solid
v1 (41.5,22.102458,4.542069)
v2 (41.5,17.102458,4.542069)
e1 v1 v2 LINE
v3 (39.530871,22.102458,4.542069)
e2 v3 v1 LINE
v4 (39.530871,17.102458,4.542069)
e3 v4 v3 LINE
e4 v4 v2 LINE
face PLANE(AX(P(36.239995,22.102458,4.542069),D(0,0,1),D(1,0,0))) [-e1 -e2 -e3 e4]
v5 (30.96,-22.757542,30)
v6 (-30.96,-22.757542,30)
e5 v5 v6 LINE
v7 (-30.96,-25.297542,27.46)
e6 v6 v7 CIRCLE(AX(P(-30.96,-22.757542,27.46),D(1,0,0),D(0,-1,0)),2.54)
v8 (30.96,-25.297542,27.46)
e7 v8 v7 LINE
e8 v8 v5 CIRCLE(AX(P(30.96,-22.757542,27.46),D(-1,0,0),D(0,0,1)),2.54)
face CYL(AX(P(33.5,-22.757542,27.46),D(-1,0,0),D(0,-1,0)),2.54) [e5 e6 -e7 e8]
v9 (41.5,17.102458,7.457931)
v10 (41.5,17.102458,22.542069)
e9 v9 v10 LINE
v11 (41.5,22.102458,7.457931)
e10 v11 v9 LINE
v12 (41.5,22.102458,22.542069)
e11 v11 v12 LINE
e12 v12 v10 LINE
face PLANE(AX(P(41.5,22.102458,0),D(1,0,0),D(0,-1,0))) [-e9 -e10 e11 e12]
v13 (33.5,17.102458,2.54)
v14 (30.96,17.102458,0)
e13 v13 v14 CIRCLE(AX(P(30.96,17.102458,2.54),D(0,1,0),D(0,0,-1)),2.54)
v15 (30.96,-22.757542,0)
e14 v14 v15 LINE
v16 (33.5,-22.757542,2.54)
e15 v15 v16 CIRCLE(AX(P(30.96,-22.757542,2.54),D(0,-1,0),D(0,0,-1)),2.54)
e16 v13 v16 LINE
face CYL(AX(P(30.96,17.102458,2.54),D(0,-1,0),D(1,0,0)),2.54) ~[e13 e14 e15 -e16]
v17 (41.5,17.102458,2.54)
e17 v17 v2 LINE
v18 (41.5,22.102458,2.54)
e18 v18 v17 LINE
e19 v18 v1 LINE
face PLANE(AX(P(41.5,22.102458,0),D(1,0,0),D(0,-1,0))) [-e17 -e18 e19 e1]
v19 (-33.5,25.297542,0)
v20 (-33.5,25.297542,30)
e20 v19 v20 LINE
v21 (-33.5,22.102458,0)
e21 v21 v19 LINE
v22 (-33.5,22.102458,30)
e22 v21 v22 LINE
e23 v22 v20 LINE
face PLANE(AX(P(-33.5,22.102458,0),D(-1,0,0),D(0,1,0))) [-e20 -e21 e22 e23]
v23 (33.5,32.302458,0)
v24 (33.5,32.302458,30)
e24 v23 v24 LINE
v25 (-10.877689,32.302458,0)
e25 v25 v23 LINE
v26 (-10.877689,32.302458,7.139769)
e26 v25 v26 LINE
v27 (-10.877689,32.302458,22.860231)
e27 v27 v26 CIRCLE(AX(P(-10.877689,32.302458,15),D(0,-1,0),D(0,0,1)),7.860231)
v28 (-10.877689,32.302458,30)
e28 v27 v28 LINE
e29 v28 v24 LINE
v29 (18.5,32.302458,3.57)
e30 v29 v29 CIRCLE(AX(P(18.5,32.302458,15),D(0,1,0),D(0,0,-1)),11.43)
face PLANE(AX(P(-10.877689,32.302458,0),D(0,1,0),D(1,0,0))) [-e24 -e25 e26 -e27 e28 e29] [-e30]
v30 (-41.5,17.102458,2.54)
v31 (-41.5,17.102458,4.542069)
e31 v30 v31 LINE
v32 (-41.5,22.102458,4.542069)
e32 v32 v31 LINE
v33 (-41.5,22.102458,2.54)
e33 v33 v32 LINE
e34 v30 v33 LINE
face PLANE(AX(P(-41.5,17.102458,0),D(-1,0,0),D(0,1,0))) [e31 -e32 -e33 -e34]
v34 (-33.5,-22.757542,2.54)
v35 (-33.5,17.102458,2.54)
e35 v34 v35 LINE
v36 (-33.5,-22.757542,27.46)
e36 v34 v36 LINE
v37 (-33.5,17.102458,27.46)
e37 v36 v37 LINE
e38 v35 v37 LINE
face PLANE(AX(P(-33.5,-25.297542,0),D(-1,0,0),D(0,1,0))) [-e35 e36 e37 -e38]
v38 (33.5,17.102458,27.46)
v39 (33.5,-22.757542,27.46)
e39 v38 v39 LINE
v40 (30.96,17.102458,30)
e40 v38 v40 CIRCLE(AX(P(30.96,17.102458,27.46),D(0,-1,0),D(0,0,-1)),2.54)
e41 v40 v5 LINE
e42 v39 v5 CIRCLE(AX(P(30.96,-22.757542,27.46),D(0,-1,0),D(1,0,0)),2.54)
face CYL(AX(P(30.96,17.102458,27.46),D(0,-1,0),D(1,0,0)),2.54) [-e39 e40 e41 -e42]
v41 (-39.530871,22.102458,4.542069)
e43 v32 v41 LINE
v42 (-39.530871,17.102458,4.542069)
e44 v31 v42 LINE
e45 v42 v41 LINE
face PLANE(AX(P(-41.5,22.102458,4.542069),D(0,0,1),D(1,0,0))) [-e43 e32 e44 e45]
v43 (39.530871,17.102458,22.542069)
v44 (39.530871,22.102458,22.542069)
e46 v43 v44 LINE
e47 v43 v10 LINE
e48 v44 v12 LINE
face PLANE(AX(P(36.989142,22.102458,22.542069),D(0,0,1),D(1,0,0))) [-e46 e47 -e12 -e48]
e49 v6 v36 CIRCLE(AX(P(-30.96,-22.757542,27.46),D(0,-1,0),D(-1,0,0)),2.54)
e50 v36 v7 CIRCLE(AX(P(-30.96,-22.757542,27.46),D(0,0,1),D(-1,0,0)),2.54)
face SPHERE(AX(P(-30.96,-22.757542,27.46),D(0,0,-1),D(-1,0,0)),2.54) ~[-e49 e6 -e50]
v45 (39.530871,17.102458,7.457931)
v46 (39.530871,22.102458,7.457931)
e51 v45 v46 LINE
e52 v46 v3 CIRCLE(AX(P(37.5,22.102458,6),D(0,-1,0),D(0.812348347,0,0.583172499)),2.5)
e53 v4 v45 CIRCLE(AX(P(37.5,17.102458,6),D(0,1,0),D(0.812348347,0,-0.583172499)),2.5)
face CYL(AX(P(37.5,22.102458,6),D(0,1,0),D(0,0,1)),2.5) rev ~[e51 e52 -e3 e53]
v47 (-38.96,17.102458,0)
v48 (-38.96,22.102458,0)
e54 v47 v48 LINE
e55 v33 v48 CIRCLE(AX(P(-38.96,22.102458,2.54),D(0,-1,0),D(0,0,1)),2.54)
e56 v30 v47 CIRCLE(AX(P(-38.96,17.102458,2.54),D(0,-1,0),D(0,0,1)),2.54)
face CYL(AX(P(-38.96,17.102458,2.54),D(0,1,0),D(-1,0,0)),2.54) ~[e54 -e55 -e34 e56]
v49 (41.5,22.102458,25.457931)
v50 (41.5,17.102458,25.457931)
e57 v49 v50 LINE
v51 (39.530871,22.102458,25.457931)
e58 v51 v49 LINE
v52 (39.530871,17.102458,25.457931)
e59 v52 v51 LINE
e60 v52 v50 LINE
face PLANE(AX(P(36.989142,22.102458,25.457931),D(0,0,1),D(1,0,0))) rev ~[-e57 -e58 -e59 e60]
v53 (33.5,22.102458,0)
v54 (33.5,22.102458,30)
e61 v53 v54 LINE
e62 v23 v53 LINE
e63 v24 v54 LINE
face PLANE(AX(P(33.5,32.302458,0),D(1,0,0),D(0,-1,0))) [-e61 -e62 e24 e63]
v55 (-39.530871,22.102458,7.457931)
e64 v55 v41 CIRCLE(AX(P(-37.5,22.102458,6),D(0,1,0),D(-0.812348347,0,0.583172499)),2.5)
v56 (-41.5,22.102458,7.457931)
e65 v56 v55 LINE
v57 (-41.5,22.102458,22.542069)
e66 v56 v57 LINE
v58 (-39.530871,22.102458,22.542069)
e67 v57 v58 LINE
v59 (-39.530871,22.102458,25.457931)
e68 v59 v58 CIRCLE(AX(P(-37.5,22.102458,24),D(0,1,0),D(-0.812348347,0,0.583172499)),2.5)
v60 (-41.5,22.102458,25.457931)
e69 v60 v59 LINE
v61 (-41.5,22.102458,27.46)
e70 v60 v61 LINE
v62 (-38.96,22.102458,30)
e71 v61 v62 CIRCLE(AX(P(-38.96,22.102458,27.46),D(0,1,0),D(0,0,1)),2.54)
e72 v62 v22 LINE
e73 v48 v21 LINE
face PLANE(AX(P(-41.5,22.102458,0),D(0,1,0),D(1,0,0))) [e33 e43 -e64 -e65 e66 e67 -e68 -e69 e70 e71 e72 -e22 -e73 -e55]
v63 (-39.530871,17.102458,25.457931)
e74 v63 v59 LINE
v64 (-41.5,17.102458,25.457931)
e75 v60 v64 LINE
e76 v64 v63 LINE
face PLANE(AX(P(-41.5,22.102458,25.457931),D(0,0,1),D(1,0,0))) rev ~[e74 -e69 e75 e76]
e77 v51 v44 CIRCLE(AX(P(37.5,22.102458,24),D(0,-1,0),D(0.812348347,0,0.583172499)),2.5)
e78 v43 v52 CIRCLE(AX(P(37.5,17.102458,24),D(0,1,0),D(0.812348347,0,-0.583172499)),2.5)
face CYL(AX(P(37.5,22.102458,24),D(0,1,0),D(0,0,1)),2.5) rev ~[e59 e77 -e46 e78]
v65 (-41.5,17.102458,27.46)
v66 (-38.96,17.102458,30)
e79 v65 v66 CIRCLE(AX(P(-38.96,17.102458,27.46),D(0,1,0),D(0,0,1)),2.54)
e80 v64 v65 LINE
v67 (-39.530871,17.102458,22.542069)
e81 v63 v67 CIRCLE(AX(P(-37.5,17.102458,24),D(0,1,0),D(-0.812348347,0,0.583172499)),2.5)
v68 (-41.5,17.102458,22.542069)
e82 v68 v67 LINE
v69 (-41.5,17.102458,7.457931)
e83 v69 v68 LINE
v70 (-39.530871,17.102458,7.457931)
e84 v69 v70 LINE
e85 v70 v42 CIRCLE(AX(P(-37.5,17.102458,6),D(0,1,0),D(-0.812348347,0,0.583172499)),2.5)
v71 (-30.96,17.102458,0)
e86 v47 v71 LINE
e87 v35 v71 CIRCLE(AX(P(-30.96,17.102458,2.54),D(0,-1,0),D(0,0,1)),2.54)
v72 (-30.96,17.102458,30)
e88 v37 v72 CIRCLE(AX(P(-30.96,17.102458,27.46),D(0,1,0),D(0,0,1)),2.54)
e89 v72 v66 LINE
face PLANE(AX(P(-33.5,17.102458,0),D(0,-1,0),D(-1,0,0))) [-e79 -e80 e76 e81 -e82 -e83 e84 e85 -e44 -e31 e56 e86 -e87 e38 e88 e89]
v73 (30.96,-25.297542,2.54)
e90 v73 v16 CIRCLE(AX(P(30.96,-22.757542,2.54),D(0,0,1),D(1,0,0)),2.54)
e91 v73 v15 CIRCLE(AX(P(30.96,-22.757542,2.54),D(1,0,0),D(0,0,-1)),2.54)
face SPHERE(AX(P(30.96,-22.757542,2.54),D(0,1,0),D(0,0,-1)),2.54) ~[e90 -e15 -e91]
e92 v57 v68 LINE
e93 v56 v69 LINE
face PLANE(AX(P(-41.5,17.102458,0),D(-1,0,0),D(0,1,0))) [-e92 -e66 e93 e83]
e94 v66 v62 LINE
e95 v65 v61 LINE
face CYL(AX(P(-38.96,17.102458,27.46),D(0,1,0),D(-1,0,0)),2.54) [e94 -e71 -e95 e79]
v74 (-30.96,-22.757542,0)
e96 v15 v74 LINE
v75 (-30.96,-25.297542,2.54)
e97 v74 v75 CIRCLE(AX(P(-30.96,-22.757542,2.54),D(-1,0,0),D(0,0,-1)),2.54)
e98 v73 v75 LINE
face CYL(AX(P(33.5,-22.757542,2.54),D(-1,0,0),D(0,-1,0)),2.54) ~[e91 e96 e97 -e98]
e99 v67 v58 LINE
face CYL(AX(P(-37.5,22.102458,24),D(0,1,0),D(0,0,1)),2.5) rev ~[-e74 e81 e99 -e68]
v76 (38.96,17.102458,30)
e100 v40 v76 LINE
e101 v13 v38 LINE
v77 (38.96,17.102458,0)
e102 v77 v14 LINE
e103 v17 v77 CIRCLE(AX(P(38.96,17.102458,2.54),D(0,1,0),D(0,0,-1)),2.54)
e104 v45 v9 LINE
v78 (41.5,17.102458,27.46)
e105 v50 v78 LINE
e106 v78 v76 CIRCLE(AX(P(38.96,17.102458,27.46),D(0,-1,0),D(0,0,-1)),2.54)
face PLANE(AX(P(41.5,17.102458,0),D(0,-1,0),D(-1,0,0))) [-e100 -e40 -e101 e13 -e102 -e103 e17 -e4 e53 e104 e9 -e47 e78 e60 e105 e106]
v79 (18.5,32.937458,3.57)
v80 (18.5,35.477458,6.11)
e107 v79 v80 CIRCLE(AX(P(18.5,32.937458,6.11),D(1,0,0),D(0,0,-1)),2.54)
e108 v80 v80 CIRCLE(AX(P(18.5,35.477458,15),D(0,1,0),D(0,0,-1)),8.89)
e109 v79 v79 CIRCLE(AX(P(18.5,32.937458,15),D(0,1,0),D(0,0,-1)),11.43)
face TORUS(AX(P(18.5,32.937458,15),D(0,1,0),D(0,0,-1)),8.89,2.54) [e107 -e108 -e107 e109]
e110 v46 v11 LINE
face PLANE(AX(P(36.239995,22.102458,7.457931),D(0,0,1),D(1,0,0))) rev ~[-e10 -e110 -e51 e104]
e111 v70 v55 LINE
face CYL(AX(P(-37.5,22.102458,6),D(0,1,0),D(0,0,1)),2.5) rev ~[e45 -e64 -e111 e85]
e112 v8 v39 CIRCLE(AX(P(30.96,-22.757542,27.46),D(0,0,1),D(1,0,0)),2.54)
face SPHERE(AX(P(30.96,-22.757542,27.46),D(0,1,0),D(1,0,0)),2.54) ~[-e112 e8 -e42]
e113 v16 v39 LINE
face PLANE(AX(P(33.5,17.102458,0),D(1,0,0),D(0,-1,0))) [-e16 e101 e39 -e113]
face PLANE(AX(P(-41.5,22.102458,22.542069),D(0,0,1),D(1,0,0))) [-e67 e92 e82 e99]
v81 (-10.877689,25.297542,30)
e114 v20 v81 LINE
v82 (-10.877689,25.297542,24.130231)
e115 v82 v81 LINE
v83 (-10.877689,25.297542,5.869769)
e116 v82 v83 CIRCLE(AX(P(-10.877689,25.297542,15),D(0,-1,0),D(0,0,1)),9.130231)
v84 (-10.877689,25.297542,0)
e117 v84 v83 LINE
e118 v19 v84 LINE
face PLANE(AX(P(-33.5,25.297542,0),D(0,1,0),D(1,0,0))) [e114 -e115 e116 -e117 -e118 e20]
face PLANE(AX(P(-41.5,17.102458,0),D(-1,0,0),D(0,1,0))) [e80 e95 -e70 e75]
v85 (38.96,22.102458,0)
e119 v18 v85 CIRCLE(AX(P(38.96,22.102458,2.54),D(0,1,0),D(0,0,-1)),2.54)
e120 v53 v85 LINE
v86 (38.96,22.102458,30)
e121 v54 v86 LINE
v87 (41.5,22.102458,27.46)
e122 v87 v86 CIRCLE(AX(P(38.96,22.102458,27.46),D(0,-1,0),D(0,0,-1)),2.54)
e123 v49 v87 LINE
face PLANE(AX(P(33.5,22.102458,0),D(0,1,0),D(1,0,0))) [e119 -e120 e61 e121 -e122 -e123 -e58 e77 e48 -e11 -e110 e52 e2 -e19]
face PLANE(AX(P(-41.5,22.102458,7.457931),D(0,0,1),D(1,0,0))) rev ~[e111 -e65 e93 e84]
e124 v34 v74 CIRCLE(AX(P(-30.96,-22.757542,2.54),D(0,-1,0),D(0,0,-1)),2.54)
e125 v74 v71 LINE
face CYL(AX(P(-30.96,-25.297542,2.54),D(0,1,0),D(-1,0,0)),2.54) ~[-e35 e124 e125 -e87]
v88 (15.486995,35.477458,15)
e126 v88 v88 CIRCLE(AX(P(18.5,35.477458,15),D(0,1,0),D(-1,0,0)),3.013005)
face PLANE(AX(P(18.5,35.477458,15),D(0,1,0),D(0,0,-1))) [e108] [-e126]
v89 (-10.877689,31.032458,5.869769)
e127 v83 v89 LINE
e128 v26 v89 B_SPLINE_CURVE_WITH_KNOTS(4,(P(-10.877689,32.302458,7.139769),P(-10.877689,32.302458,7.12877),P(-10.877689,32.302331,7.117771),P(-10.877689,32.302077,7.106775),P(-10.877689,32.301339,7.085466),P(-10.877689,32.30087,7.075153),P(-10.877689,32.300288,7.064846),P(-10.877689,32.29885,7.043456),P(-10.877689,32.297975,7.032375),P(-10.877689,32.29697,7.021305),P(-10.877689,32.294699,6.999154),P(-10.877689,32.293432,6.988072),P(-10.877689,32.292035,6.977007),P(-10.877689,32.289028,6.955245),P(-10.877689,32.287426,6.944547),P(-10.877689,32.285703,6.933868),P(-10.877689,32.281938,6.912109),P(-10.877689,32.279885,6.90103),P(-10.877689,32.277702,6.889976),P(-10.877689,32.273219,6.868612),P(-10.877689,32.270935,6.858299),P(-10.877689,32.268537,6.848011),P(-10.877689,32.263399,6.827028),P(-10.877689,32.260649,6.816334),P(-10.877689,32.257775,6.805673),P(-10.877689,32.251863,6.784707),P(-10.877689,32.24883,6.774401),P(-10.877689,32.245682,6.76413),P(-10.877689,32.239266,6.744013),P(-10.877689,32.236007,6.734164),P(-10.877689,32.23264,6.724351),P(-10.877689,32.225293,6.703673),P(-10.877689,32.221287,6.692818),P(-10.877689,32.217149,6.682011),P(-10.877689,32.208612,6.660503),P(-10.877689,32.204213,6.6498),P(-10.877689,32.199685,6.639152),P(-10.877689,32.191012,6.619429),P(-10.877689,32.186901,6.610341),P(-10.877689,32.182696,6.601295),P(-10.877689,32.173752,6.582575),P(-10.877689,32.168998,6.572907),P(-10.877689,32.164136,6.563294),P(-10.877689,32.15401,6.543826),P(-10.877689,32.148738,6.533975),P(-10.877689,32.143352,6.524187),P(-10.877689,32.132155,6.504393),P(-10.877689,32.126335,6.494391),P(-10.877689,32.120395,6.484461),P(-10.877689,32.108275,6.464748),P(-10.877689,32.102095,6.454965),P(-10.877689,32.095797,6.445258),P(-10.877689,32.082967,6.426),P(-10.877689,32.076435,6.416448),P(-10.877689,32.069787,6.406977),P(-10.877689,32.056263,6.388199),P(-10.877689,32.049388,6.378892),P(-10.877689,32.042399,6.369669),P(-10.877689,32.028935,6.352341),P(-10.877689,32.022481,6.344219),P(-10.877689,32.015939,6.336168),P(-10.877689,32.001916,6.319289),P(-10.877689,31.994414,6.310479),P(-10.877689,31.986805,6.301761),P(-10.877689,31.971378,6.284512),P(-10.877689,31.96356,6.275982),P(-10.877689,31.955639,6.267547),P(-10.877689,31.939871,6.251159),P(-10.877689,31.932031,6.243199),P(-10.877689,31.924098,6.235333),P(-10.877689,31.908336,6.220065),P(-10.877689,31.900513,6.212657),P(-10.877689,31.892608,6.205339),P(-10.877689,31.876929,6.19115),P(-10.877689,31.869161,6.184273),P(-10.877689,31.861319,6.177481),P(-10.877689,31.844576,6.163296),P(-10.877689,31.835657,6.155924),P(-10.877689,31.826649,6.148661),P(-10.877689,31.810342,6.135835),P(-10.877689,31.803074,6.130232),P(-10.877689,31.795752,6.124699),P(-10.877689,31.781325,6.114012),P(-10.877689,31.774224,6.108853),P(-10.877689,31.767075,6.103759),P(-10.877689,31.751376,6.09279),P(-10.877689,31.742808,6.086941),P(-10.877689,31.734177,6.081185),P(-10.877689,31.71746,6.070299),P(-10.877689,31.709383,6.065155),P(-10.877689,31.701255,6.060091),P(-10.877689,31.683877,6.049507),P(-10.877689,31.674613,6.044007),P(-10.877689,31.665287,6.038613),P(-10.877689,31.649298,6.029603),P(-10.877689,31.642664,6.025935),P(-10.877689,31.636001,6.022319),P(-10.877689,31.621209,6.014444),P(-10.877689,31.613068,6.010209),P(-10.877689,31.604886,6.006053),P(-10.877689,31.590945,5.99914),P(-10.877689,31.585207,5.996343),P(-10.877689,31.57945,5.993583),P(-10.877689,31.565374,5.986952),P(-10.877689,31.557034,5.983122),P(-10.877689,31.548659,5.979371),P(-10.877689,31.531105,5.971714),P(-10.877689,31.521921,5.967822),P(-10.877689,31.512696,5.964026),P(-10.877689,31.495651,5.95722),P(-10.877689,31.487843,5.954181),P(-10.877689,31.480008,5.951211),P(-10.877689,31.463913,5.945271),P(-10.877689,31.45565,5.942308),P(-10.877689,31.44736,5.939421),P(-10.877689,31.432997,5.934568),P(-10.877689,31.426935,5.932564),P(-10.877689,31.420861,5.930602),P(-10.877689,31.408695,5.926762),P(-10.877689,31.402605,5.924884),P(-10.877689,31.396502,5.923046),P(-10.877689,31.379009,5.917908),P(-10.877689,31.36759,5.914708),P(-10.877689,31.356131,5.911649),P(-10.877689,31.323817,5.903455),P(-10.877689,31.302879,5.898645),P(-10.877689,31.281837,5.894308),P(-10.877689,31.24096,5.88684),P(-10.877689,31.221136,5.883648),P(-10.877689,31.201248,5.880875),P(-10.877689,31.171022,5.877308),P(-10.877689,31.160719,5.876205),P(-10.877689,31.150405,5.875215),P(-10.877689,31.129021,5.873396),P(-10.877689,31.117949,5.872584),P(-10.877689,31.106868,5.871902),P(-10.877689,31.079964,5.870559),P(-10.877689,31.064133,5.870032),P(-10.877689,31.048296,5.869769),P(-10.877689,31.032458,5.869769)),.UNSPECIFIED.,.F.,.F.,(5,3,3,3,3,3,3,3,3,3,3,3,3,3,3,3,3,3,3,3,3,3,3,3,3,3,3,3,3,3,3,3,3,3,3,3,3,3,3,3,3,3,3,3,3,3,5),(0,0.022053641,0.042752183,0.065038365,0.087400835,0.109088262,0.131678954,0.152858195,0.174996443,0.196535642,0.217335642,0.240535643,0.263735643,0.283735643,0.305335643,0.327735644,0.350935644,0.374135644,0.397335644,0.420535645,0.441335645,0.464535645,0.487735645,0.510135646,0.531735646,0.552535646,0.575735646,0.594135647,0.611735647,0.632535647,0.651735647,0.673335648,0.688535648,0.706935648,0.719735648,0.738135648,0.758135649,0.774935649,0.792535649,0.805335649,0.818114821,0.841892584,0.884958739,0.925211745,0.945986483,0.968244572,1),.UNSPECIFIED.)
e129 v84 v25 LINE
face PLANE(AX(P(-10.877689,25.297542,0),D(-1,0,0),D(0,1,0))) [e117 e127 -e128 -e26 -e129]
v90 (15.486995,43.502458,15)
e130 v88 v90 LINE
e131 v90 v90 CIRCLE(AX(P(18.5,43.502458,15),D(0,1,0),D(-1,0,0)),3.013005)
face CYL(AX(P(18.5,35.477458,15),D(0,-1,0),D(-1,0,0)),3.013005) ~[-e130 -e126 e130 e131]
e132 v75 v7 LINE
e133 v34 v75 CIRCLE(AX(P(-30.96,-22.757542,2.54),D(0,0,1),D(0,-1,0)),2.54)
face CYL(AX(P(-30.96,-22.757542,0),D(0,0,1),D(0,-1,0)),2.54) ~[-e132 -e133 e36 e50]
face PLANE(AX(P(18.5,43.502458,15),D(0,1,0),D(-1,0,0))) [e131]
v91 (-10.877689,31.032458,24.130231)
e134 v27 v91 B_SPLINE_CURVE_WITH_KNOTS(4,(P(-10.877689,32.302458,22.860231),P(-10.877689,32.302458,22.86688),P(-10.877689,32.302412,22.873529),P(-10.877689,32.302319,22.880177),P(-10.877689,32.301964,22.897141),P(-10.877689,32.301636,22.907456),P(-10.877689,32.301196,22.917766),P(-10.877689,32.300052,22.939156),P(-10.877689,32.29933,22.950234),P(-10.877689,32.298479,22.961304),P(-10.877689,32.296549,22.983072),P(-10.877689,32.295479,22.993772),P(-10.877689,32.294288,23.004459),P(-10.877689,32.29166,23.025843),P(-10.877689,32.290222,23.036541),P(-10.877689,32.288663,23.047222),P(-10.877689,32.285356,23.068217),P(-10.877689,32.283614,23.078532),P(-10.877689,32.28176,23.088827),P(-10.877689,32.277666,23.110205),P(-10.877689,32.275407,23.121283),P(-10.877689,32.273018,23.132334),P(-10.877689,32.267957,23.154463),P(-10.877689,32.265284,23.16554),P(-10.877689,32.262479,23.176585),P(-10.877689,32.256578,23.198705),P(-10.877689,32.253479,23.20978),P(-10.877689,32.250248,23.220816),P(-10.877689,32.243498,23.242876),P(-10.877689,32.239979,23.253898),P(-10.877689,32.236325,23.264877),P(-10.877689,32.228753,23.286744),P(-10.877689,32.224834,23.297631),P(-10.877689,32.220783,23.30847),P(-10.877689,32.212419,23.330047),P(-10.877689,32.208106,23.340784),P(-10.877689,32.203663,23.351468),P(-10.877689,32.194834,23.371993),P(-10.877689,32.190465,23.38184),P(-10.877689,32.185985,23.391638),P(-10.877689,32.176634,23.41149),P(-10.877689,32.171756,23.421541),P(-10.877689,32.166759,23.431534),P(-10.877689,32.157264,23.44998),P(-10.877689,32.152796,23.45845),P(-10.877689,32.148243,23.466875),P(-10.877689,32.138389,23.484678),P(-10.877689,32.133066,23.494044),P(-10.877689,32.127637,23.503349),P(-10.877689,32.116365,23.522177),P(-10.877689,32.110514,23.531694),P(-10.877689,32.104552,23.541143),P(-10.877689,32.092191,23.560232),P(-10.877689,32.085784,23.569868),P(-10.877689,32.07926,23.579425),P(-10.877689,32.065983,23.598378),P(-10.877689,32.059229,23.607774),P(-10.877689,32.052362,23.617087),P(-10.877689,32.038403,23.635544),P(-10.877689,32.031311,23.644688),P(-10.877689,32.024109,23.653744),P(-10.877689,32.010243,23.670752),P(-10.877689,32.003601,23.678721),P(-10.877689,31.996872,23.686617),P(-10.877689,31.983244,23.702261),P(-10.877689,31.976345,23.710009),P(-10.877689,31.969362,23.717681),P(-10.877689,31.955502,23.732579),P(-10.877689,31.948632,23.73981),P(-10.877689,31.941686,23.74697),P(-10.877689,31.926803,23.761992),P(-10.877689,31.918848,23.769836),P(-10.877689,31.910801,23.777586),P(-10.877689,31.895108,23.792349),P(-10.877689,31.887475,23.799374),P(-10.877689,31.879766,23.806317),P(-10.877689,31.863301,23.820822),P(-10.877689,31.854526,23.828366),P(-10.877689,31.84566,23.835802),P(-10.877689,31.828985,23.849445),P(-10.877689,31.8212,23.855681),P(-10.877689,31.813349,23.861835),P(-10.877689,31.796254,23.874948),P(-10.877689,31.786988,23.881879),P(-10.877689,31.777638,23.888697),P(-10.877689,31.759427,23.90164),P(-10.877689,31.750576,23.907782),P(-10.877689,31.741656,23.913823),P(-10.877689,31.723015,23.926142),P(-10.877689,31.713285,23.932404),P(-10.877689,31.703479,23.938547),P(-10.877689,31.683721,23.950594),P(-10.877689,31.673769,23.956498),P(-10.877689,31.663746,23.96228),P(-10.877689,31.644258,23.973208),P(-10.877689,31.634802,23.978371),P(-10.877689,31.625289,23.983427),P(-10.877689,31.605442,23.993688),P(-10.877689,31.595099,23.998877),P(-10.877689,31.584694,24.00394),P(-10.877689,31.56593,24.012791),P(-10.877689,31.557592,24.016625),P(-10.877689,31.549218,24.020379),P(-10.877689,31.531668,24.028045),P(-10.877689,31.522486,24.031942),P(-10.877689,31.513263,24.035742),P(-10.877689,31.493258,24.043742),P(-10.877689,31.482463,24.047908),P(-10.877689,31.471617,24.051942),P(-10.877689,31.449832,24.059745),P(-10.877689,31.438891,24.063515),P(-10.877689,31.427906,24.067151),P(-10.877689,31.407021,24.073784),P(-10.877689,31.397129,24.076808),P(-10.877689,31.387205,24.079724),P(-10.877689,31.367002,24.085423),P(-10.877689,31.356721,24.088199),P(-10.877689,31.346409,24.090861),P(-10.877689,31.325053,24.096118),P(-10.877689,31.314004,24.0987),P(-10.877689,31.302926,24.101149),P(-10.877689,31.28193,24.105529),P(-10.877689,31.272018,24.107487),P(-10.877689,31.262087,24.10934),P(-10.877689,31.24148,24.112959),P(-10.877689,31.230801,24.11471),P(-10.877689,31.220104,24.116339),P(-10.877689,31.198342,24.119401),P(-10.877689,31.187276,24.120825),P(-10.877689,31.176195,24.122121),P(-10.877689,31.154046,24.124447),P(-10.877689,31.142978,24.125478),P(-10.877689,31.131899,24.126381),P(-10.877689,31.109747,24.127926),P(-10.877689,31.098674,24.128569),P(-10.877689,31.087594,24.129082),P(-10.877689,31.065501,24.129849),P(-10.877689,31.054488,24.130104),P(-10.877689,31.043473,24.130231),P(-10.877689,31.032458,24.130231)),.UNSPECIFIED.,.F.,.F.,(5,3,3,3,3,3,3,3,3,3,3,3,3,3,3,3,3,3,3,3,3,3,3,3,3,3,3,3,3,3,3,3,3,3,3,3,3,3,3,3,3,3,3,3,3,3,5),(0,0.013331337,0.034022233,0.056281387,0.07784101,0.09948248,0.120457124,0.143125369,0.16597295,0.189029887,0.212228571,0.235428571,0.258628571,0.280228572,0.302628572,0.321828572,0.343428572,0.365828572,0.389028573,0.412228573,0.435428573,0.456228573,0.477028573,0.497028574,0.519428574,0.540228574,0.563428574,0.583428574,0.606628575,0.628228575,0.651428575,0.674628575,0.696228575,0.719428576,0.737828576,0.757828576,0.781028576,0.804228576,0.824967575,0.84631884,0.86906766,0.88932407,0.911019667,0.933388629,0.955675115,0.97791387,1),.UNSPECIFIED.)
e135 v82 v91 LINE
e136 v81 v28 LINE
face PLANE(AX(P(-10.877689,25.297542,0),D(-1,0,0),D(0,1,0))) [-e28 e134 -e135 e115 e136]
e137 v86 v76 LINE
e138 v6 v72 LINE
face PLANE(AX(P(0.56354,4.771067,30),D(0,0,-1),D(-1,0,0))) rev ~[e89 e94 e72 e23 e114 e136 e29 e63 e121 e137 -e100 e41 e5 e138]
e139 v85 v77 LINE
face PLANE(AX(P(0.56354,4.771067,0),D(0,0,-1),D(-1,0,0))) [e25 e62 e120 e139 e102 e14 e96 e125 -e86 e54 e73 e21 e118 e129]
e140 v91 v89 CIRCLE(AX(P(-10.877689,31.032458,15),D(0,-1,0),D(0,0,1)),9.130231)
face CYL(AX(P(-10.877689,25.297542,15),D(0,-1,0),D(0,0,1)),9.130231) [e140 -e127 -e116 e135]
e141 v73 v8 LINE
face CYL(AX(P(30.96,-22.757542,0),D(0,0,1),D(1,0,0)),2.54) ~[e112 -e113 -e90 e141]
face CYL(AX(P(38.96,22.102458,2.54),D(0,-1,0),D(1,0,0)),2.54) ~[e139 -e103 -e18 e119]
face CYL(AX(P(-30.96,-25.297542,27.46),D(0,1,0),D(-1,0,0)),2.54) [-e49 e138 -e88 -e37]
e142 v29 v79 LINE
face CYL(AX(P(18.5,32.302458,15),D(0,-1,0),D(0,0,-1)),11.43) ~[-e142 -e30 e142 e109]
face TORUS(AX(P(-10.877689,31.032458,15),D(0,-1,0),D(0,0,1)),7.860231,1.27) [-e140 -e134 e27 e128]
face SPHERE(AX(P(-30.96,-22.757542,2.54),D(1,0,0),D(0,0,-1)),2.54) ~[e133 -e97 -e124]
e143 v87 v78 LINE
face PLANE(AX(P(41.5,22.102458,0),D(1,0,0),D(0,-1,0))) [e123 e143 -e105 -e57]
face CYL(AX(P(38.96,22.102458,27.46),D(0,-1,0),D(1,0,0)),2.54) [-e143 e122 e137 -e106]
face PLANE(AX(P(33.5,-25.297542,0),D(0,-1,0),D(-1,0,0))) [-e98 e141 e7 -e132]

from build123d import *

# Parameters (mm, degrees)
EXTRUDE1_DEPTH     = 30
FILLET1_R          = 2.54
CUT_EXTRUDE1_REACH = 71.778
SKETCH2_R          = 2.5
CUT_EXTRUDE2_REACH = 71.778
SKETCH3_W          = 3.948997199
SKETCH3_H          = 2.915862496
SKETCH3_W_2        = 5.260004778
SKETCH3_W_3        = 4.51085759
EXTRUDE2_DEPTH     = 7.004916842
SKETCH5_R          = 11.43
EXTRUDE3_DEPTH     = 3.175
FILLET2_R          = 2.54
FILLET3_R          = 1.27
SKETCH6_R          = 3.013004542
EXTRUDE4_DEPTH     = 8.025


with BuildPart() as part:
    # Sketch1 → Extrude1 (new body)
    with BuildSketch(Plane.XY):
        Polygon((-33.5, 17.102458421), (-41.5, 17.102458421), (-41.5, 22.102458421), (-33.5, 22.102458421), (-33.5, 25.297541579), (-10.877689124, 25.297541579), (-10.877689124, 32.302458421), (33.5, 32.302458421), (33.5, 22.102458421), (41.5, 22.102458421), (41.5, 17.102458421), (33.5, 17.102458421), (33.5, -25.297541579), (-33.5, -25.297541579), align=None)
    extrude(amount=EXTRUDE1_DEPTH)

    # Fillet1
    fillet1_edges = [part.edges().sort_by_distance(p)[0] for p in [
        (33.5, -4.097541579, 30),
        (-41.5, 19.602458421, 0),
        (41.5, 19.602458421, 30),
        (41.5, 19.602458421, 0),
        (33.5, -4.097541579, 0),
        (0, -25.297541579, 0),
        (-33.5, -4.097541579, 0),
        (33.5, -25.297541579, 15),
        (-33.5, -25.297541579, 15),
        (-33.5, -4.097541579, 30),
        (-41.5, 19.602458421, 30),
        (0, -25.297541579, 30),
    ]]
    fillet(fillet1_edges, radius=FILLET1_R)

    # Sketch2 → Cut-Extrude1 (cut, up to next)
    with BuildSketch(Plane(origin=(0, 22.102458421, 0), x_dir=(1, 0, 0), z_dir=(0, 1, 0)), mode=Mode.PRIVATE) as cut_extrude1_sk1:
        with Locations(Location((-37.5, -6, 0), (0, 0, 270))):
            Circle(SKETCH2_R)
    cut_extrude1_tool1 = extrude(cut_extrude1_sk1.sketch, amount=-CUT_EXTRUDE1_REACH, mode=Mode.PRIVATE) & part.part
    # Sketch2 → Cut-Extrude1 (cut, up to next)
    with BuildSketch(Plane(origin=(0, 22.102458421, 0), x_dir=(1, 0, 0), z_dir=(0, 1, 0)), mode=Mode.PRIVATE) as cut_extrude1_sk2:
        with Locations(Location((-37.5, -24, 0), (0, 0, 270))):
            Circle(SKETCH2_R)
    cut_extrude1_tool2 = extrude(cut_extrude1_sk2.sketch, amount=-CUT_EXTRUDE1_REACH, mode=Mode.PRIVATE) & part.part
    # Sketch2 → Cut-Extrude1 (cut, up to next)
    with BuildSketch(Plane(origin=(0, 22.102458421, 0), x_dir=(1, 0, 0), z_dir=(0, 1, 0)), mode=Mode.PRIVATE) as cut_extrude1_sk3:
        with Locations(Location((37.5, -6, 0), (0, 0, 270))):
            Circle(SKETCH2_R)
    cut_extrude1_tool3 = extrude(cut_extrude1_sk3.sketch, amount=-CUT_EXTRUDE1_REACH, mode=Mode.PRIVATE) & part.part
    # Sketch2 → Cut-Extrude1 (cut, up to next)
    with BuildSketch(Plane(origin=(0, 22.102458421, 0), x_dir=(1, 0, 0), z_dir=(0, 1, 0)), mode=Mode.PRIVATE) as cut_extrude1_sk4:
        with Locations(Location((37.5, -24, 0), (0, 0, 270))):
            Circle(SKETCH2_R)
    cut_extrude1_tool4 = extrude(cut_extrude1_sk4.sketch, amount=-CUT_EXTRUDE1_REACH, mode=Mode.PRIVATE) & part.part
    add(cut_extrude1_tool1.solids().sort_by_distance((-37.5, 22.102458, 6))[0], mode=Mode.SUBTRACT)
    add(cut_extrude1_tool2.solids().sort_by_distance((-37.5, 22.102458, 24))[0], mode=Mode.SUBTRACT)
    add(cut_extrude1_tool3.solids().sort_by_distance((37.5, 22.102458, 6))[0], mode=Mode.SUBTRACT)
    add(cut_extrude1_tool4.solids().sort_by_distance((37.5, 22.102458, 24))[0], mode=Mode.SUBTRACT)

    # Sketch3 → Cut-Extrude2 (cut, up to next)
    with BuildSketch(Plane(origin=(0, 22.102458421, 0), x_dir=(1, 0, 0), z_dir=(0, 1, 0)), mode=Mode.PRIVATE) as cut_extrude2_sk1:
        with Locations((-39.525501401, -6)):
            Rectangle(SKETCH3_W, SKETCH3_H)
    cut_extrude2_tool1 = extrude(cut_extrude2_sk1.sketch, amount=-CUT_EXTRUDE2_REACH, mode=Mode.PRIVATE) & part.part
    # Sketch3 → Cut-Extrude2 (cut, up to next)
    with BuildSketch(Plane(origin=(0, 22.102458421, 0), x_dir=(1, 0, 0), z_dir=(0, 1, 0)), mode=Mode.PRIVATE) as cut_extrude2_sk2:
        with Locations((-39.525501401, -24)):
            Rectangle(SKETCH3_W, SKETCH3_H)
    cut_extrude2_tool2 = extrude(cut_extrude2_sk2.sketch, amount=-CUT_EXTRUDE2_REACH, mode=Mode.PRIVATE) & part.part
    # Sketch3 → Cut-Extrude2 (cut, up to next)
    with BuildSketch(Plane(origin=(0, 22.102458421, 0), x_dir=(1, 0, 0), z_dir=(0, 1, 0)), mode=Mode.PRIVATE) as cut_extrude2_sk3:
        with Locations((38.869997611, -6)):
            Rectangle(SKETCH3_W_2, SKETCH3_H)
    cut_extrude2_tool3 = extrude(cut_extrude2_sk3.sketch, amount=-CUT_EXTRUDE2_REACH, mode=Mode.PRIVATE) & part.part
    # Sketch3 → Cut-Extrude2 (cut, up to next)
    with BuildSketch(Plane(origin=(0, 22.102458421, 0), x_dir=(1, 0, 0), z_dir=(0, 1, 0)), mode=Mode.PRIVATE) as cut_extrude2_sk4:
        with Locations((39.244571205, -24)):
            Rectangle(SKETCH3_W_3, SKETCH3_H)
    cut_extrude2_tool4 = extrude(cut_extrude2_sk4.sketch, amount=-CUT_EXTRUDE2_REACH, mode=Mode.PRIVATE) & part.part
    add(cut_extrude2_tool1.solids().sort_by_distance((-39.525501, 22.102458, 6))[0], mode=Mode.SUBTRACT)
    add(cut_extrude2_tool2.solids().sort_by_distance((-39.525501, 22.102458, 24))[0], mode=Mode.SUBTRACT)
    add(cut_extrude2_tool3.solids().sort_by_distance((38.869998, 22.102458, 6))[0], mode=Mode.SUBTRACT)
    add(cut_extrude2_tool4.solids().sort_by_distance((39.244571, 22.102458, 24))[0], mode=Mode.SUBTRACT)

    # Sketch4 → Extrude2 (add)
    with BuildSketch(Plane(origin=(0, 25.297541579, 0), x_dir=(1, 0, 0), z_dir=(0, 1, 0))):
        with BuildLine():
            Line((-10.877689124, -5.869768646), (-10.877689124, -24.130231354))
            ThreePointArc((-10.877689124, -24.130231354), (-20.007920479, -15), (-10.877689124, -5.869768646))
        make_face()
    extrude(amount=EXTRUDE2_DEPTH)

    # Sketch5 → Extrude3 (add)
    with BuildSketch(Plane(origin=(0, 32.302458421, 0), x_dir=(1, 0, 0), z_dir=(0, 1, 0))):
        with Locations(Location((18.5, -15, 0), (0, 0, 90))):
            Circle(SKETCH5_R)
    extrude(amount=EXTRUDE3_DEPTH)

    # Fillet2
    fillet2_edges = [part.edges().sort_by_distance(p)[0] for p in [
        (18.5, 35.477458421, 26.43),
    ]]
    fillet(fillet2_edges, radius=FILLET2_R)

    # Fillet3
    fillet3_edges = [part.edges().sort_by_distance(p)[0] for p in [
        (-20.007920479, 32.302458421, 15),
    ]]
    fillet(fillet3_edges, radius=FILLET3_R)

    # Sketch6 → Extrude4 (add)
    with BuildSketch(Plane(origin=(0, 35.477458421, 0), x_dir=(1, 0, 0), z_dir=(0, 1, 0))):
        with Locations(Location((18.5, -15, 0), (0, 0, 180))):
            Circle(SKETCH6_R)
    extrude(amount=EXTRUDE4_DEPTH)


solid = part.part
